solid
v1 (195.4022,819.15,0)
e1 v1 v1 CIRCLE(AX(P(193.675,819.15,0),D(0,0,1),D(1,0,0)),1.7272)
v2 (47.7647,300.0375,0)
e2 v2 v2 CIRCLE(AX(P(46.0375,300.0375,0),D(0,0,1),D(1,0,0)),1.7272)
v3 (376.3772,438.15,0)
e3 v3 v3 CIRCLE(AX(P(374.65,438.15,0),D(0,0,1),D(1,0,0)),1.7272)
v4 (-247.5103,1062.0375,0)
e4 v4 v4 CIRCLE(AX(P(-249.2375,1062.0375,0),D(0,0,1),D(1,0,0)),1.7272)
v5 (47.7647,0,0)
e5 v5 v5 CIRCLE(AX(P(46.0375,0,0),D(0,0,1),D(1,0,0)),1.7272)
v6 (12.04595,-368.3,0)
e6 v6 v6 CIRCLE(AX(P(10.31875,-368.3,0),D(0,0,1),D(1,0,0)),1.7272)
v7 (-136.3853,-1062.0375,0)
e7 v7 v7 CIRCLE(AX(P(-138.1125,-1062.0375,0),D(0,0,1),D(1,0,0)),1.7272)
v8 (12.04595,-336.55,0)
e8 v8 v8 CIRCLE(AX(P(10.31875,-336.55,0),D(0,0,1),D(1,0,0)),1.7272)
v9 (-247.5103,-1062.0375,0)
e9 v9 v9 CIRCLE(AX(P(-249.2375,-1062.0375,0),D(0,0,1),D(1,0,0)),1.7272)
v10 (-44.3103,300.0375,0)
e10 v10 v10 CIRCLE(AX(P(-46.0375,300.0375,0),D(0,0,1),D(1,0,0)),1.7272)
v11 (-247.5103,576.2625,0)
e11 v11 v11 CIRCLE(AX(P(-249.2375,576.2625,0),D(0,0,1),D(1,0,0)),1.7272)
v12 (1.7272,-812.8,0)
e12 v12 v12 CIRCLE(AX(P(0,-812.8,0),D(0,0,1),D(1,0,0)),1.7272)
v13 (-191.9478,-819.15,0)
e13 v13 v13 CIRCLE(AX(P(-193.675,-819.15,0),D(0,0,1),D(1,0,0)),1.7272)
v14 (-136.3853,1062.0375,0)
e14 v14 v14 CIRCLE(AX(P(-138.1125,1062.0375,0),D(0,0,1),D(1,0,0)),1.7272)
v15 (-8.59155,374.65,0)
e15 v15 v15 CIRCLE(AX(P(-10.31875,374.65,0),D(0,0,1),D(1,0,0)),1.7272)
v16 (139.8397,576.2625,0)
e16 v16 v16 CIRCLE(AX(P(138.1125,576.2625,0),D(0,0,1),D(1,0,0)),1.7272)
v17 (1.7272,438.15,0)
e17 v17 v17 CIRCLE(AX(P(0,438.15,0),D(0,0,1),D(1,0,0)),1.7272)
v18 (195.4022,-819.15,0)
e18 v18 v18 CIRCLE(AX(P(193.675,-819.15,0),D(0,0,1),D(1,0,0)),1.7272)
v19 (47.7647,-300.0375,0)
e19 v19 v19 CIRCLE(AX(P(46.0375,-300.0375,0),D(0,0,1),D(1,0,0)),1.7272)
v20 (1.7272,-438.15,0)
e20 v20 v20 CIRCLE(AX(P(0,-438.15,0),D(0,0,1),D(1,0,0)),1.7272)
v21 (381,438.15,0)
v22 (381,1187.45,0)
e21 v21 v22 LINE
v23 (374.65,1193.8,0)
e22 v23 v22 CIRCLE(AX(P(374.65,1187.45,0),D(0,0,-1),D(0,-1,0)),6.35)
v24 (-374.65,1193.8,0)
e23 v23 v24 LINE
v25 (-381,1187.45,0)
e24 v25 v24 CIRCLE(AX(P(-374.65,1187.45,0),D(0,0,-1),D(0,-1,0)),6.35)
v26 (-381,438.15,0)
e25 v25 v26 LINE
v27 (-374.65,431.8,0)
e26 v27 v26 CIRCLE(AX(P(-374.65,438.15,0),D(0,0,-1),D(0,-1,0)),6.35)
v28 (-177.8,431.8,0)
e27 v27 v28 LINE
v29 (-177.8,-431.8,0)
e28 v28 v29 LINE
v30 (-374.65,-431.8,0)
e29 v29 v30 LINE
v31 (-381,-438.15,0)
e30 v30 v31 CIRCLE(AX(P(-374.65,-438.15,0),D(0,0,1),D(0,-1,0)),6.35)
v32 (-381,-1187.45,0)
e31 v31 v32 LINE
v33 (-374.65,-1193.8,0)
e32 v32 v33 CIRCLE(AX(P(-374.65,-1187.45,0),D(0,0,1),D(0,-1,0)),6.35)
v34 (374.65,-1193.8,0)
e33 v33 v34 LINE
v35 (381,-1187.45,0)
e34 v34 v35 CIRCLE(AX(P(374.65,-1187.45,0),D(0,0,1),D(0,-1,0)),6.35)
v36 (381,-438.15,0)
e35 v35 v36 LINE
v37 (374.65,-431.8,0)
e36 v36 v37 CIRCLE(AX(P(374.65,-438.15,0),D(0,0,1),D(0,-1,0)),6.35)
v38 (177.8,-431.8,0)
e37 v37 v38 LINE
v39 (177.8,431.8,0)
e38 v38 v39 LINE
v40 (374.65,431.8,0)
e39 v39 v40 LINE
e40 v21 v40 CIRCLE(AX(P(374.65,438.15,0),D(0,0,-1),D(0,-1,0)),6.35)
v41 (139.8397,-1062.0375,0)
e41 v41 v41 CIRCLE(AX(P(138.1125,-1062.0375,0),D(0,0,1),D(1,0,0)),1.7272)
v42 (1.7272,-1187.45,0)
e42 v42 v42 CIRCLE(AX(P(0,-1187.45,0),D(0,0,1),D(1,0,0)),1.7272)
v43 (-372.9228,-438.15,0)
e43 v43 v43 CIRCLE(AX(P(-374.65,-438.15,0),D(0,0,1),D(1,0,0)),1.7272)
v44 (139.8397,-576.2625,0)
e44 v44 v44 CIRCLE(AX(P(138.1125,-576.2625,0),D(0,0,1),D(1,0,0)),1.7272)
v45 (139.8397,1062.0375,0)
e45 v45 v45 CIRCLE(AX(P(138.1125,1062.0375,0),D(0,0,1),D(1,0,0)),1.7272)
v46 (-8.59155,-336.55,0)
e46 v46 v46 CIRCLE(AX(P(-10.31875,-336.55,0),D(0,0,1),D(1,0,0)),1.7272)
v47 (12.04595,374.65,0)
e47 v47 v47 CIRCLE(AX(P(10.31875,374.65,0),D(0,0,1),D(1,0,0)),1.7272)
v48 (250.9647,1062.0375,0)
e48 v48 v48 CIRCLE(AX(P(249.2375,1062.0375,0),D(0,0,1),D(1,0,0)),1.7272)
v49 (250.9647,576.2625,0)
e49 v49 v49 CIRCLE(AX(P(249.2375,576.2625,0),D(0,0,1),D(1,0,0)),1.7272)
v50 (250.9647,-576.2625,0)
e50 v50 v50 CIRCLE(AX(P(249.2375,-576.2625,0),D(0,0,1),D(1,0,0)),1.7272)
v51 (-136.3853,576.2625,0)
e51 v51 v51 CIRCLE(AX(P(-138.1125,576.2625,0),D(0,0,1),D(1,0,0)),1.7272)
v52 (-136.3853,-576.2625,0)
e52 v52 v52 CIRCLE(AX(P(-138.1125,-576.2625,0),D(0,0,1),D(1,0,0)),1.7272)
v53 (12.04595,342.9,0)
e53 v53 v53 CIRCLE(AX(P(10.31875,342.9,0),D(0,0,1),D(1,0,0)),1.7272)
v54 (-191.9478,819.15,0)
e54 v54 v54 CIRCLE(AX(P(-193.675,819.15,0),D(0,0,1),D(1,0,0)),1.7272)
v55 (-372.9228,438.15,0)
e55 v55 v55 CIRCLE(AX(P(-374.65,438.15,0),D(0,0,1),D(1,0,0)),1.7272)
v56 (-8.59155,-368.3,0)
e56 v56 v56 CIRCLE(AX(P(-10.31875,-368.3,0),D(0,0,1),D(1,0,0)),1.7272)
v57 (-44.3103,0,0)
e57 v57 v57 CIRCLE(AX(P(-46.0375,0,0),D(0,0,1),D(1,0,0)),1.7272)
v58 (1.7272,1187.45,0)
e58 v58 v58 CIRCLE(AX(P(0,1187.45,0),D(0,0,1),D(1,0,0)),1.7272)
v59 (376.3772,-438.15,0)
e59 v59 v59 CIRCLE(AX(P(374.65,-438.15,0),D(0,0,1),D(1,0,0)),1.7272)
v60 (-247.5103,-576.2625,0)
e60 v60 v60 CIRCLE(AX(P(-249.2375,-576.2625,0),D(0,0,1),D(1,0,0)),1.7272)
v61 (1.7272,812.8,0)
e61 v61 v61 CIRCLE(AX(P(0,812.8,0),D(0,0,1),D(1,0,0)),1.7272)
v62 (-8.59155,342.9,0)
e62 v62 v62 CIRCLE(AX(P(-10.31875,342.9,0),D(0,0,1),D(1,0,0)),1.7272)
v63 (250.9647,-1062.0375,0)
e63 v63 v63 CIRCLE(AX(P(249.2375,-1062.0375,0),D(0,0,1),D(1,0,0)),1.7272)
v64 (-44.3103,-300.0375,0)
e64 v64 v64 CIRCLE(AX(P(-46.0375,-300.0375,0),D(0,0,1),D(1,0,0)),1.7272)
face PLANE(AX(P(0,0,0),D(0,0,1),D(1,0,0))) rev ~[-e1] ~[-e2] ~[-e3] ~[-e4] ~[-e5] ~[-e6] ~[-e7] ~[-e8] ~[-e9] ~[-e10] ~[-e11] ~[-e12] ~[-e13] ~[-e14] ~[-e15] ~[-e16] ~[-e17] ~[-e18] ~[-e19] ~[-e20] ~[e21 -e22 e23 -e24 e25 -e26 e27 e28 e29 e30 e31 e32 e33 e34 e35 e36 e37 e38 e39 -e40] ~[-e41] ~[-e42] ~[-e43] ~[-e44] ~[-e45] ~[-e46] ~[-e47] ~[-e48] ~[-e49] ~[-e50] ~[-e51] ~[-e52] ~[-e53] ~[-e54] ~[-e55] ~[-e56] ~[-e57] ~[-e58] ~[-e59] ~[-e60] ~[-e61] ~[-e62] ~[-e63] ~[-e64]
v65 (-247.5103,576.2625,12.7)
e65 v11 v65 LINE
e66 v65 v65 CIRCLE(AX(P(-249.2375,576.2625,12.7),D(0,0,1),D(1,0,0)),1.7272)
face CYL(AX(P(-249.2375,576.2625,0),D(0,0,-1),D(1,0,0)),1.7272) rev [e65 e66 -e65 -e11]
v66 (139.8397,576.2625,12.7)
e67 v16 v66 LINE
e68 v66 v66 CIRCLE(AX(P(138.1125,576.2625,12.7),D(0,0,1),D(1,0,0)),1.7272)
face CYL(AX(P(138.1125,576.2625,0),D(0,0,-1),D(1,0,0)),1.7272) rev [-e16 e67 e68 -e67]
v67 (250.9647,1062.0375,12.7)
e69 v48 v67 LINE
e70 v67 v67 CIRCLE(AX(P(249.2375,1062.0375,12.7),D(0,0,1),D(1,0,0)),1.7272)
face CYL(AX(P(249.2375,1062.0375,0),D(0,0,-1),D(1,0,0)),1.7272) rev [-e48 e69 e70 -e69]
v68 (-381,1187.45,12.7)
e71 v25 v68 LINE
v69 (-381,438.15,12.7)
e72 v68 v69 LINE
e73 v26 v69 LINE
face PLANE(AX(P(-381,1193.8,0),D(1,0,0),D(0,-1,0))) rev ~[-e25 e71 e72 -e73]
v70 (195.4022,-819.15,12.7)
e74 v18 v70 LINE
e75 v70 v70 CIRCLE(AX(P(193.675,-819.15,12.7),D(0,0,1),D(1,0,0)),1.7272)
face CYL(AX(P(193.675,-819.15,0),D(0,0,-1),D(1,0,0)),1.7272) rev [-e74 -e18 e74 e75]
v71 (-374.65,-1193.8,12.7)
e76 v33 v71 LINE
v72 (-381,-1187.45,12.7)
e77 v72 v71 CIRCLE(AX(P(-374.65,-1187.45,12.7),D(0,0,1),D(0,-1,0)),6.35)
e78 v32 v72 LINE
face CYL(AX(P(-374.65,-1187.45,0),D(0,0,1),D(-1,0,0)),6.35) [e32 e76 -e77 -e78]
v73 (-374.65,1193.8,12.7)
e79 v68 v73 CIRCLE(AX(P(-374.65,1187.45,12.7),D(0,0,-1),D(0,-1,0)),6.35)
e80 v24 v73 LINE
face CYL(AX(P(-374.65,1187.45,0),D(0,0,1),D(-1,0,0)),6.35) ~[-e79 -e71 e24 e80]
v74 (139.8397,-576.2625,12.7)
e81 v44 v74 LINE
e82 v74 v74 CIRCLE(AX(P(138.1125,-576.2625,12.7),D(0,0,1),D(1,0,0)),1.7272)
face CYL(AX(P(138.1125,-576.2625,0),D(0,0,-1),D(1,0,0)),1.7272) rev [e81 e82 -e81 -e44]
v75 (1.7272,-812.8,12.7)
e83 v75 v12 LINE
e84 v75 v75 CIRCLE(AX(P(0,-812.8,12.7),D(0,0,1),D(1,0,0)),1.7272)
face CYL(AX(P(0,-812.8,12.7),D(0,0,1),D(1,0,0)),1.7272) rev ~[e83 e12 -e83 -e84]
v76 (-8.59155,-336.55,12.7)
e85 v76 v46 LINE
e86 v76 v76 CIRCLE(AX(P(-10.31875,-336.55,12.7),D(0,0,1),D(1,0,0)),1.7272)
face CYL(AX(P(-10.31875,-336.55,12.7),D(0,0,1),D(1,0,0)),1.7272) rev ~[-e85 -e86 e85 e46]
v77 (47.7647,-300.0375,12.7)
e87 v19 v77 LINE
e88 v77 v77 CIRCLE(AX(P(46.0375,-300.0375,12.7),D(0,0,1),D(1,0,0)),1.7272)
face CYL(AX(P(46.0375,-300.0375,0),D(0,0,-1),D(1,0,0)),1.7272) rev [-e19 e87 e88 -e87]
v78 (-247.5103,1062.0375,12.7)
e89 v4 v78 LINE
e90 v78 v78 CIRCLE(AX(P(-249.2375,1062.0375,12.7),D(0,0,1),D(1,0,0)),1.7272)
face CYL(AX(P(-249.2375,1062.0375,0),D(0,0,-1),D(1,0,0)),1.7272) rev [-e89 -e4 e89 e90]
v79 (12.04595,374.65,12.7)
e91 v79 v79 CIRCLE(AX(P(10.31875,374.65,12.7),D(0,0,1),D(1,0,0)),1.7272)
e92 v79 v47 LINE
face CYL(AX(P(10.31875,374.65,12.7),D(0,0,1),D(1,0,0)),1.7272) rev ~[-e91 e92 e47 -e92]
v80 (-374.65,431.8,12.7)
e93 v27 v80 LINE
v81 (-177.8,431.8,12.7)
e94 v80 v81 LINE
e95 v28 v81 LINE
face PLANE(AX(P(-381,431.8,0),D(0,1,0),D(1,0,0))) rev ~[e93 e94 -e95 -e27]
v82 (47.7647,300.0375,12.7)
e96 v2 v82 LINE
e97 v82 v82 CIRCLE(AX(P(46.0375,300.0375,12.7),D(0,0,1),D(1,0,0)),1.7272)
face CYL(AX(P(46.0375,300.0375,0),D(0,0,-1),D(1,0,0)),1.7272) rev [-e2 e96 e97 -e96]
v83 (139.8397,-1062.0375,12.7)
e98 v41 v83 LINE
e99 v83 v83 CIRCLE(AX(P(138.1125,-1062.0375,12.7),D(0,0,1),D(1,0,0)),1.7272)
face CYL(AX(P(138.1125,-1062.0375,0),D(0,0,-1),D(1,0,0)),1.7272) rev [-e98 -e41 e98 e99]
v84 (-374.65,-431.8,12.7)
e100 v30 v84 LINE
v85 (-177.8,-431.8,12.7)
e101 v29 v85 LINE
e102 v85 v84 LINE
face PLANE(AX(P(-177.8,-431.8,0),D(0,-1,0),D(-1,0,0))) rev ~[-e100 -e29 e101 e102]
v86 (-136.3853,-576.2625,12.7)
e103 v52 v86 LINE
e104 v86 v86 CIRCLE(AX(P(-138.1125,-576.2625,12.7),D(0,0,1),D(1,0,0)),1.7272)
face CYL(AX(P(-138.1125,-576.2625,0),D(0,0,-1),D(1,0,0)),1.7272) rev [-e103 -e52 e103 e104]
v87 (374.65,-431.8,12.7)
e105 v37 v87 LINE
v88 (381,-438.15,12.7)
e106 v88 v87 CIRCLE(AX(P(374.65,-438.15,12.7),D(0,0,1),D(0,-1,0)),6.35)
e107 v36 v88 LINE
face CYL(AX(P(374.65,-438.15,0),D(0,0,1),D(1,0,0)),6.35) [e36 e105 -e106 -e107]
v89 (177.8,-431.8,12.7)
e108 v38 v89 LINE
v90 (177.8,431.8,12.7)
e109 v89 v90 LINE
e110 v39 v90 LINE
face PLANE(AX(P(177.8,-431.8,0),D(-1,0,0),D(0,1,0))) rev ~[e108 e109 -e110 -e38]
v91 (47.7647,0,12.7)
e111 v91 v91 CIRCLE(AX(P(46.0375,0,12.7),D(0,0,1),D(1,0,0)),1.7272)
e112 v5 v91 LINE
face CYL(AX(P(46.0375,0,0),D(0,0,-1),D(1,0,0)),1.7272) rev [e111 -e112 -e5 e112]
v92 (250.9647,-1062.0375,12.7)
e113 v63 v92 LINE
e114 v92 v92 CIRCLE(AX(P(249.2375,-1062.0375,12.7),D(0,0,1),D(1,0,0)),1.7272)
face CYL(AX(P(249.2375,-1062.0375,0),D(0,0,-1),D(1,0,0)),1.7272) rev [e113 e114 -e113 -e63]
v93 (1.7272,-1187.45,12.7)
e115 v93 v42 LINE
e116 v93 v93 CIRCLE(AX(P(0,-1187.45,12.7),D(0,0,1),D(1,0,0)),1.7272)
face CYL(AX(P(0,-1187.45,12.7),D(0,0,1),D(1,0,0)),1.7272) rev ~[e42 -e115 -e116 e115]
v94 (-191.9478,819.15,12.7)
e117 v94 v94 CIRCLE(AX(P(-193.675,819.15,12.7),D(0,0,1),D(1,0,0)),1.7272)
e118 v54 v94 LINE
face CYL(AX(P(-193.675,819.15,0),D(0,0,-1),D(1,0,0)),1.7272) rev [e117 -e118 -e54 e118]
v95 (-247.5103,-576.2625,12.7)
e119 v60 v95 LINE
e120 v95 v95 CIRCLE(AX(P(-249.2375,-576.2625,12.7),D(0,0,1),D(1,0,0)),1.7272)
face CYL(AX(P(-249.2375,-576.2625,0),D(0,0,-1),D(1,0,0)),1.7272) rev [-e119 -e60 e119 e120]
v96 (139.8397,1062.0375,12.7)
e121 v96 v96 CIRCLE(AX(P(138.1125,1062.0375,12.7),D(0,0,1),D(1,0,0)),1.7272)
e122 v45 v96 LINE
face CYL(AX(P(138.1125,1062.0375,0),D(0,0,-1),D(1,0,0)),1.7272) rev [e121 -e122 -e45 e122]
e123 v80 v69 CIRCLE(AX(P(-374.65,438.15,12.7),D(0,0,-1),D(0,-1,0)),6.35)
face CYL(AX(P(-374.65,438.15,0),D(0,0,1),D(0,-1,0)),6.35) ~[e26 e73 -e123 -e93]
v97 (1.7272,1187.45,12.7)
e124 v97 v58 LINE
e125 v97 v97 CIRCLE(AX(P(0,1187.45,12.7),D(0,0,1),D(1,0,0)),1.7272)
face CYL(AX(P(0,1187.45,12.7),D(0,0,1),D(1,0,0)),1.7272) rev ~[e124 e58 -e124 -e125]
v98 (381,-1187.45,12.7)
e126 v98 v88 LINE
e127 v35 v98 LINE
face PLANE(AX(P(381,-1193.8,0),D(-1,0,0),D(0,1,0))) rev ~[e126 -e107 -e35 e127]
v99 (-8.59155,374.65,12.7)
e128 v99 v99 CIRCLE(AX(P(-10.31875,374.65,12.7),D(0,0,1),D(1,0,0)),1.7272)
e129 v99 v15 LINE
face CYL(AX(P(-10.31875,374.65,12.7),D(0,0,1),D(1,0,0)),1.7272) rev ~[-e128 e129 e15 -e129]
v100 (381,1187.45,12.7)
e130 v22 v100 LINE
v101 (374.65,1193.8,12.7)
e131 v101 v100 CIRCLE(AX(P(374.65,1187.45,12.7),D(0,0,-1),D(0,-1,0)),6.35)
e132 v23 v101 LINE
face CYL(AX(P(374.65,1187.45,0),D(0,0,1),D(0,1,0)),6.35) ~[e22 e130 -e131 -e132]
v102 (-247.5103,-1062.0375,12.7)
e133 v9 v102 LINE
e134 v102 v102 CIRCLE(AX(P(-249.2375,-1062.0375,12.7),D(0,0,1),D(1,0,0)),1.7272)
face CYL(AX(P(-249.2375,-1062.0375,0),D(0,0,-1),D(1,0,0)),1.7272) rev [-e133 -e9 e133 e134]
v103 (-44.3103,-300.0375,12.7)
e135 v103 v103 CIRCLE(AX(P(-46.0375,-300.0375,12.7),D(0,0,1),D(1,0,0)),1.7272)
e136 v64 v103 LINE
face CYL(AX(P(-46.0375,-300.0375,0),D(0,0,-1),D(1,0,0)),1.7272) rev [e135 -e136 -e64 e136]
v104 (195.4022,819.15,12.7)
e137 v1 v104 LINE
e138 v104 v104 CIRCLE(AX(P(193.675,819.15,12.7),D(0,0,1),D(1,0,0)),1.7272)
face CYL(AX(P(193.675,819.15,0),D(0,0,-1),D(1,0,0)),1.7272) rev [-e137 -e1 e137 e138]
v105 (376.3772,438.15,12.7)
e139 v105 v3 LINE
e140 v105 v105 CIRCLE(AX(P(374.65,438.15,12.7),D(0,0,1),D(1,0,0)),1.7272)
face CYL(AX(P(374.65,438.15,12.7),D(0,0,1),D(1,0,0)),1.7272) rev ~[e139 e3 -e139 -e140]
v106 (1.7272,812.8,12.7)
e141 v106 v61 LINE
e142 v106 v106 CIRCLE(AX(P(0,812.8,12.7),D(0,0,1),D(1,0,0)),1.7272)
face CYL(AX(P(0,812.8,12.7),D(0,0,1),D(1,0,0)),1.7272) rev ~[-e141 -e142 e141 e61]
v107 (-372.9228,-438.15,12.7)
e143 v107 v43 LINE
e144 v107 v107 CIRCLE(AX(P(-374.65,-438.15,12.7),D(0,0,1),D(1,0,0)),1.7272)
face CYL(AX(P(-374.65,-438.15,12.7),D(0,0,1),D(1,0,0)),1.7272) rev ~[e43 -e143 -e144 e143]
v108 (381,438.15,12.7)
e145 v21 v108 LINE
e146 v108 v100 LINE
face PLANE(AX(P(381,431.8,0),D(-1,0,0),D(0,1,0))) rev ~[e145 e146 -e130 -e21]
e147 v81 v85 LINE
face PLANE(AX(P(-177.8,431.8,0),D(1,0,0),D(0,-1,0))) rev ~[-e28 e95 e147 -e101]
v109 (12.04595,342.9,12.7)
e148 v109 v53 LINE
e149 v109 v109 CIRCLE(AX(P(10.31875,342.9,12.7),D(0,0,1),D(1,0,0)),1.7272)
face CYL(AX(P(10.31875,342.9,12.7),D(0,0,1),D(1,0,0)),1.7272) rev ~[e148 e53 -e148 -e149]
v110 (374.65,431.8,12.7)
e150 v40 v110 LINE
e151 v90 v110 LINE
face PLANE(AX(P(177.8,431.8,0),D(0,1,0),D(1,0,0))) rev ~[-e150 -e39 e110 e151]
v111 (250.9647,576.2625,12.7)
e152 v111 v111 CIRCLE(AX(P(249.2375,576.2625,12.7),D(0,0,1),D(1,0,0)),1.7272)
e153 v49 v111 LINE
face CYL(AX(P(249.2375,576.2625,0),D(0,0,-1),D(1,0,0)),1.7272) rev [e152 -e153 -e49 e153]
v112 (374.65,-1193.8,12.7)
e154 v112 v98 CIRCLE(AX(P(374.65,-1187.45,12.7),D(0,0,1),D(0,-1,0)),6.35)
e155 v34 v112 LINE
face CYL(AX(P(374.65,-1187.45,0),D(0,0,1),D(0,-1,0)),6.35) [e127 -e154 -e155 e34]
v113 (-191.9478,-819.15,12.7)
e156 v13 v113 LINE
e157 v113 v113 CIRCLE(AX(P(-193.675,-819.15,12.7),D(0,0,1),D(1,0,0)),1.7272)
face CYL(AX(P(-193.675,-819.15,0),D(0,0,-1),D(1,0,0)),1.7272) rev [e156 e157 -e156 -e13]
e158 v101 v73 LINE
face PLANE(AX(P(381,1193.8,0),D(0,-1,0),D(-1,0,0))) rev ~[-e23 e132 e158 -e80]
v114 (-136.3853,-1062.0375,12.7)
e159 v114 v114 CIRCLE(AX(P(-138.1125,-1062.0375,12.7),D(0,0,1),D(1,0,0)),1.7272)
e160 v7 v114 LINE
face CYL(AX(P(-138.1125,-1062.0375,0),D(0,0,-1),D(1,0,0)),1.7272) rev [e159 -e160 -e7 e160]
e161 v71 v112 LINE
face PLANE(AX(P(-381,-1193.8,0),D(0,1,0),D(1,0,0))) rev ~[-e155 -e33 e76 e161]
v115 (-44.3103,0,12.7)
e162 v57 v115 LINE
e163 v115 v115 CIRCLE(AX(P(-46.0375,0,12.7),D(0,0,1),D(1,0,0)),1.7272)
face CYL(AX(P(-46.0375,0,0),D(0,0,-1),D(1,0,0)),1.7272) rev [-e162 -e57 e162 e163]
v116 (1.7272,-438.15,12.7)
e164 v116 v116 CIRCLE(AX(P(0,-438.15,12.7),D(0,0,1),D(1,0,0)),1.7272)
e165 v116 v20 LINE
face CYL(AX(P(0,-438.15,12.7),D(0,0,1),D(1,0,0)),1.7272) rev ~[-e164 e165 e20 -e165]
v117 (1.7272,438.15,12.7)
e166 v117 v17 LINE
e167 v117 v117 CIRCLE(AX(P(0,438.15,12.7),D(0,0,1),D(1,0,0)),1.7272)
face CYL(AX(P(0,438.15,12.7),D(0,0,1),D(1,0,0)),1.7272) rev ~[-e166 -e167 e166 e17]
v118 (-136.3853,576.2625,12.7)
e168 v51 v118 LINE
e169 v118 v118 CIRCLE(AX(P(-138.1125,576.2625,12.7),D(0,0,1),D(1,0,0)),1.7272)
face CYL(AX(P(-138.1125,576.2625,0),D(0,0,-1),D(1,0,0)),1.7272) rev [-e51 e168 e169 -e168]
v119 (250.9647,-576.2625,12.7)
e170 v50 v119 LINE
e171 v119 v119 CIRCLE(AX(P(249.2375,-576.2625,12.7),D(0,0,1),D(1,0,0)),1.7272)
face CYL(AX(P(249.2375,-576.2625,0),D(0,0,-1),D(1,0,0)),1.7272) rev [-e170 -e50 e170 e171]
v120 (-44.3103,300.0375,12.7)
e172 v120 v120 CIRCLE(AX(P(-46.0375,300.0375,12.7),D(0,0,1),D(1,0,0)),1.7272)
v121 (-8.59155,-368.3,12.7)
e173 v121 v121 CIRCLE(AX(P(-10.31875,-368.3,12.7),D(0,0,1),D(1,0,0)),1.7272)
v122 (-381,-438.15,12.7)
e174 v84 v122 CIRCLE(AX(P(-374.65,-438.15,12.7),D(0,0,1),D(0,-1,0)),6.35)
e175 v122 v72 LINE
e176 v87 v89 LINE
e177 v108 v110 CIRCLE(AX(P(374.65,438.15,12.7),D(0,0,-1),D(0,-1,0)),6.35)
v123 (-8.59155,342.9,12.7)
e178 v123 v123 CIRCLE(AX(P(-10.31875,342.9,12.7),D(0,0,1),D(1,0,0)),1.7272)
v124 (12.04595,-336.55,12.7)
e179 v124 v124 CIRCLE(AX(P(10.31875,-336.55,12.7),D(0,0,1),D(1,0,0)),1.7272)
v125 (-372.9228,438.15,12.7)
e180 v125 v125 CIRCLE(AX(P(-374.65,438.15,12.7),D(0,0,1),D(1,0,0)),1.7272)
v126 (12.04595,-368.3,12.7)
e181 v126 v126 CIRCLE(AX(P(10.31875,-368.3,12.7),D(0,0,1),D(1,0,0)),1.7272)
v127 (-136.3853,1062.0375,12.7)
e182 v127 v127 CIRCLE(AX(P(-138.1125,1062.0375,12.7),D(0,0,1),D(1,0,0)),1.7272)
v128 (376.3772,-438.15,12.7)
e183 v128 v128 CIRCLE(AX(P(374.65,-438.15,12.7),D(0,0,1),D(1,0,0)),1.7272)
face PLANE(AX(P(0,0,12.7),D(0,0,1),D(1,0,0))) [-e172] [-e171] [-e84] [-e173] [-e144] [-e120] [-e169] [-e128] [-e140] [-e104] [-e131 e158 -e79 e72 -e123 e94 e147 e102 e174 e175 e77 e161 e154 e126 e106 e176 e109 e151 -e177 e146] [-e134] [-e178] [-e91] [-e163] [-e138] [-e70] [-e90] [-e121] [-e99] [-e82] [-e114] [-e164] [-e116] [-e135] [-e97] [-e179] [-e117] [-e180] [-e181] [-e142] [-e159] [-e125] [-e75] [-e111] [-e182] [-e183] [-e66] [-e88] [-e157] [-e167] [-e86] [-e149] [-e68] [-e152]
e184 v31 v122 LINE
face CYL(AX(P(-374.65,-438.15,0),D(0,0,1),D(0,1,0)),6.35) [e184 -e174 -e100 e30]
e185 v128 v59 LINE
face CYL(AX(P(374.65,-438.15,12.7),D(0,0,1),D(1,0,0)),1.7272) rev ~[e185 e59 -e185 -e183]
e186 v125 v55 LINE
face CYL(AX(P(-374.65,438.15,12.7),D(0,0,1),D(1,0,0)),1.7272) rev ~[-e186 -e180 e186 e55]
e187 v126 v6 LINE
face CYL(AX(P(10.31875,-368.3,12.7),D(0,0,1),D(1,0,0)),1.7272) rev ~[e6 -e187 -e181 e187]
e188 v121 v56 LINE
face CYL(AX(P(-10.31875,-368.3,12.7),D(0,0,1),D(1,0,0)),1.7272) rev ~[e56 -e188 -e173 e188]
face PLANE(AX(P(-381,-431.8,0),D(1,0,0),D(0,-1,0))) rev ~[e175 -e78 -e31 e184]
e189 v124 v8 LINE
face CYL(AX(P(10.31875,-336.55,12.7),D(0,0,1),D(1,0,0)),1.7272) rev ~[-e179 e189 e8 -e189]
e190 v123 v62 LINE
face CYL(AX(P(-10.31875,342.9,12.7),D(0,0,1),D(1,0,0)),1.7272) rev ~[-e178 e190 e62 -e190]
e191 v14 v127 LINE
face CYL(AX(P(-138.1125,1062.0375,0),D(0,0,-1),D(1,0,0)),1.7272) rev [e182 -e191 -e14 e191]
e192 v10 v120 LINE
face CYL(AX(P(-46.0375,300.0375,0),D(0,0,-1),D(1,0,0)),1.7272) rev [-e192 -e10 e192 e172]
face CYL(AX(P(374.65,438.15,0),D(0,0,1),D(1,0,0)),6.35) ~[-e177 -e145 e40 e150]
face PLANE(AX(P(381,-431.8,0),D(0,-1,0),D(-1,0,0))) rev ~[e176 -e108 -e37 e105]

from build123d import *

# Parameters (mm, degrees)
F0_R     = 1.7272
F1_DEPTH = 12.7
F2_R     = 1.7272
F3_DEPTH = 12.7
F4_R     = 6.35


with BuildPart() as f1:
    # F0 (on Top) → F1 (new body)
    with BuildSketch(Plane.XY):
        Polygon((-177.8, 431.8), (-177.8, -431.8), (-381, -431.8), (-381, -1193.8), (381, -1193.8), (381, -431.8), (177.8, -431.8), (177.8, 431.8), (381, 431.8), (381, 1193.8), (-381, 1193.8), (-381, 431.8), align=None)
        with Locations((-249.2375, -1062.0375)):
            Circle(F0_R, mode=Mode.SUBTRACT)
        with Locations((-193.675, -819.15)):
            Circle(F0_R, mode=Mode.SUBTRACT)
        with Locations((-138.1125, -1062.0375)):
            Circle(F0_R, mode=Mode.SUBTRACT)
        with Locations((-249.2375, -576.2625)):
            Circle(F0_R, mode=Mode.SUBTRACT)
        with Locations((-138.1125, -576.2625)):
            Circle(F0_R, mode=Mode.SUBTRACT)
        with Locations((-46.0375, -300.0375)):
            Circle(F0_R, mode=Mode.SUBTRACT)
        with Locations((138.1125, -1062.0375)):
            Circle(F0_R, mode=Mode.SUBTRACT)
        with Locations((249.2375, -1062.0375)):
            Circle(F0_R, mode=Mode.SUBTRACT)
        with Locations((193.675, -819.15)):
            Circle(F0_R, mode=Mode.SUBTRACT)
        with Locations((46.0375, -300.0375)):
            Circle(F0_R, mode=Mode.SUBTRACT)
        with Locations((138.1125, -576.2625)):
            Circle(F0_R, mode=Mode.SUBTRACT)
        with Locations((249.2375, -576.2625)):
            Circle(F0_R, mode=Mode.SUBTRACT)
        with Locations((-249.2375, 576.2625)):
            Circle(F0_R, mode=Mode.SUBTRACT)
        with Locations((-46.0375, 0)):
            Circle(F0_R, mode=Mode.SUBTRACT)
        with Locations((-138.1125, 576.2625)):
            Circle(F0_R, mode=Mode.SUBTRACT)
        with Locations((-46.0375, 300.0375)):
            Circle(F0_R, mode=Mode.SUBTRACT)
        with Locations((-193.675, 819.15)):
            Circle(F0_R, mode=Mode.SUBTRACT)
        with Locations((-249.2375, 1062.0375)):
            Circle(F0_R, mode=Mode.SUBTRACT)
        with Locations((-138.1125, 1062.0375)):
            Circle(F0_R, mode=Mode.SUBTRACT)
        with Locations((46.0375, 0)):
            Circle(F0_R, mode=Mode.SUBTRACT)
        with Locations((46.0375, 300.0375)):
            Circle(F0_R, mode=Mode.SUBTRACT)
        with Locations((138.1125, 576.2625)):
            Circle(F0_R, mode=Mode.SUBTRACT)
        with Locations((249.2375, 576.2625)):
            Circle(F0_R, mode=Mode.SUBTRACT)
        with Locations((138.1125, 1062.0375)):
            Circle(F0_R, mode=Mode.SUBTRACT)
        with Locations((193.675, 819.15)):
            Circle(F0_R, mode=Mode.SUBTRACT)
        with Locations((249.2375, 1062.0375)):
            Circle(F0_R, mode=Mode.SUBTRACT)
    extrude(amount=F1_DEPTH)

    # F2 (on face) → F3 (cut, through all)
    with BuildSketch(Plane.XY.offset(12.7)):
        with Locations((0, -438.15)):
            Circle(F2_R)
        with Locations((-374.65, -438.15)):
            Circle(F2_R)
        with Locations((374.65, -438.15)):
            Circle(F2_R)
        with Locations((0, -1187.45)):
            Circle(F2_R)
        with Locations((0, -812.8)):
            Circle(F2_R)
        with Locations((374.65, 438.15)):
            Circle(F2_R)
        with Locations((0, 438.15)):
            Circle(F2_R)
        with Locations((0, 812.8)):
            Circle(F2_R)
        with Locations((0, 1187.45)):
            Circle(F2_R)
        with Locations((-374.65, 438.15)):
            Circle(F2_R)
        with Locations((-10.31875, 374.65)):
            Circle(F2_R)
        with Locations((-10.31875, 342.9)):
            Circle(F2_R)
        with Locations((10.31875, 342.9)):
            Circle(F2_R)
        with Locations((10.31875, 374.65)):
            Circle(F2_R)
        with Locations((-10.31875, -336.55)):
            Circle(F2_R)
        with Locations((10.31875, -336.55)):
            Circle(F2_R)
        with Locations((10.31875, -368.3)):
            Circle(F2_R)
        with Locations((-10.31875, -368.3)):
            Circle(F2_R)
    extrude(amount=-F3_DEPTH, mode=Mode.SUBTRACT)

    # F4
    f4_edges = [f1.edges().sort_by_distance(p)[0] for p in [
        (-381, -431.8, 6.35),
        (381, -431.8, 6.35),
        (381, -1193.8, 6.35),
        (-381, -1193.8, 6.35),
        (-381, 431.8, 6.35),
        (381, 431.8, 6.35),
        (381, 1193.8, 6.35),
        (-381, 1193.8, 6.35),
    ]]
    fillet(f4_edges, radius=F4_R)


solid = f1.part
